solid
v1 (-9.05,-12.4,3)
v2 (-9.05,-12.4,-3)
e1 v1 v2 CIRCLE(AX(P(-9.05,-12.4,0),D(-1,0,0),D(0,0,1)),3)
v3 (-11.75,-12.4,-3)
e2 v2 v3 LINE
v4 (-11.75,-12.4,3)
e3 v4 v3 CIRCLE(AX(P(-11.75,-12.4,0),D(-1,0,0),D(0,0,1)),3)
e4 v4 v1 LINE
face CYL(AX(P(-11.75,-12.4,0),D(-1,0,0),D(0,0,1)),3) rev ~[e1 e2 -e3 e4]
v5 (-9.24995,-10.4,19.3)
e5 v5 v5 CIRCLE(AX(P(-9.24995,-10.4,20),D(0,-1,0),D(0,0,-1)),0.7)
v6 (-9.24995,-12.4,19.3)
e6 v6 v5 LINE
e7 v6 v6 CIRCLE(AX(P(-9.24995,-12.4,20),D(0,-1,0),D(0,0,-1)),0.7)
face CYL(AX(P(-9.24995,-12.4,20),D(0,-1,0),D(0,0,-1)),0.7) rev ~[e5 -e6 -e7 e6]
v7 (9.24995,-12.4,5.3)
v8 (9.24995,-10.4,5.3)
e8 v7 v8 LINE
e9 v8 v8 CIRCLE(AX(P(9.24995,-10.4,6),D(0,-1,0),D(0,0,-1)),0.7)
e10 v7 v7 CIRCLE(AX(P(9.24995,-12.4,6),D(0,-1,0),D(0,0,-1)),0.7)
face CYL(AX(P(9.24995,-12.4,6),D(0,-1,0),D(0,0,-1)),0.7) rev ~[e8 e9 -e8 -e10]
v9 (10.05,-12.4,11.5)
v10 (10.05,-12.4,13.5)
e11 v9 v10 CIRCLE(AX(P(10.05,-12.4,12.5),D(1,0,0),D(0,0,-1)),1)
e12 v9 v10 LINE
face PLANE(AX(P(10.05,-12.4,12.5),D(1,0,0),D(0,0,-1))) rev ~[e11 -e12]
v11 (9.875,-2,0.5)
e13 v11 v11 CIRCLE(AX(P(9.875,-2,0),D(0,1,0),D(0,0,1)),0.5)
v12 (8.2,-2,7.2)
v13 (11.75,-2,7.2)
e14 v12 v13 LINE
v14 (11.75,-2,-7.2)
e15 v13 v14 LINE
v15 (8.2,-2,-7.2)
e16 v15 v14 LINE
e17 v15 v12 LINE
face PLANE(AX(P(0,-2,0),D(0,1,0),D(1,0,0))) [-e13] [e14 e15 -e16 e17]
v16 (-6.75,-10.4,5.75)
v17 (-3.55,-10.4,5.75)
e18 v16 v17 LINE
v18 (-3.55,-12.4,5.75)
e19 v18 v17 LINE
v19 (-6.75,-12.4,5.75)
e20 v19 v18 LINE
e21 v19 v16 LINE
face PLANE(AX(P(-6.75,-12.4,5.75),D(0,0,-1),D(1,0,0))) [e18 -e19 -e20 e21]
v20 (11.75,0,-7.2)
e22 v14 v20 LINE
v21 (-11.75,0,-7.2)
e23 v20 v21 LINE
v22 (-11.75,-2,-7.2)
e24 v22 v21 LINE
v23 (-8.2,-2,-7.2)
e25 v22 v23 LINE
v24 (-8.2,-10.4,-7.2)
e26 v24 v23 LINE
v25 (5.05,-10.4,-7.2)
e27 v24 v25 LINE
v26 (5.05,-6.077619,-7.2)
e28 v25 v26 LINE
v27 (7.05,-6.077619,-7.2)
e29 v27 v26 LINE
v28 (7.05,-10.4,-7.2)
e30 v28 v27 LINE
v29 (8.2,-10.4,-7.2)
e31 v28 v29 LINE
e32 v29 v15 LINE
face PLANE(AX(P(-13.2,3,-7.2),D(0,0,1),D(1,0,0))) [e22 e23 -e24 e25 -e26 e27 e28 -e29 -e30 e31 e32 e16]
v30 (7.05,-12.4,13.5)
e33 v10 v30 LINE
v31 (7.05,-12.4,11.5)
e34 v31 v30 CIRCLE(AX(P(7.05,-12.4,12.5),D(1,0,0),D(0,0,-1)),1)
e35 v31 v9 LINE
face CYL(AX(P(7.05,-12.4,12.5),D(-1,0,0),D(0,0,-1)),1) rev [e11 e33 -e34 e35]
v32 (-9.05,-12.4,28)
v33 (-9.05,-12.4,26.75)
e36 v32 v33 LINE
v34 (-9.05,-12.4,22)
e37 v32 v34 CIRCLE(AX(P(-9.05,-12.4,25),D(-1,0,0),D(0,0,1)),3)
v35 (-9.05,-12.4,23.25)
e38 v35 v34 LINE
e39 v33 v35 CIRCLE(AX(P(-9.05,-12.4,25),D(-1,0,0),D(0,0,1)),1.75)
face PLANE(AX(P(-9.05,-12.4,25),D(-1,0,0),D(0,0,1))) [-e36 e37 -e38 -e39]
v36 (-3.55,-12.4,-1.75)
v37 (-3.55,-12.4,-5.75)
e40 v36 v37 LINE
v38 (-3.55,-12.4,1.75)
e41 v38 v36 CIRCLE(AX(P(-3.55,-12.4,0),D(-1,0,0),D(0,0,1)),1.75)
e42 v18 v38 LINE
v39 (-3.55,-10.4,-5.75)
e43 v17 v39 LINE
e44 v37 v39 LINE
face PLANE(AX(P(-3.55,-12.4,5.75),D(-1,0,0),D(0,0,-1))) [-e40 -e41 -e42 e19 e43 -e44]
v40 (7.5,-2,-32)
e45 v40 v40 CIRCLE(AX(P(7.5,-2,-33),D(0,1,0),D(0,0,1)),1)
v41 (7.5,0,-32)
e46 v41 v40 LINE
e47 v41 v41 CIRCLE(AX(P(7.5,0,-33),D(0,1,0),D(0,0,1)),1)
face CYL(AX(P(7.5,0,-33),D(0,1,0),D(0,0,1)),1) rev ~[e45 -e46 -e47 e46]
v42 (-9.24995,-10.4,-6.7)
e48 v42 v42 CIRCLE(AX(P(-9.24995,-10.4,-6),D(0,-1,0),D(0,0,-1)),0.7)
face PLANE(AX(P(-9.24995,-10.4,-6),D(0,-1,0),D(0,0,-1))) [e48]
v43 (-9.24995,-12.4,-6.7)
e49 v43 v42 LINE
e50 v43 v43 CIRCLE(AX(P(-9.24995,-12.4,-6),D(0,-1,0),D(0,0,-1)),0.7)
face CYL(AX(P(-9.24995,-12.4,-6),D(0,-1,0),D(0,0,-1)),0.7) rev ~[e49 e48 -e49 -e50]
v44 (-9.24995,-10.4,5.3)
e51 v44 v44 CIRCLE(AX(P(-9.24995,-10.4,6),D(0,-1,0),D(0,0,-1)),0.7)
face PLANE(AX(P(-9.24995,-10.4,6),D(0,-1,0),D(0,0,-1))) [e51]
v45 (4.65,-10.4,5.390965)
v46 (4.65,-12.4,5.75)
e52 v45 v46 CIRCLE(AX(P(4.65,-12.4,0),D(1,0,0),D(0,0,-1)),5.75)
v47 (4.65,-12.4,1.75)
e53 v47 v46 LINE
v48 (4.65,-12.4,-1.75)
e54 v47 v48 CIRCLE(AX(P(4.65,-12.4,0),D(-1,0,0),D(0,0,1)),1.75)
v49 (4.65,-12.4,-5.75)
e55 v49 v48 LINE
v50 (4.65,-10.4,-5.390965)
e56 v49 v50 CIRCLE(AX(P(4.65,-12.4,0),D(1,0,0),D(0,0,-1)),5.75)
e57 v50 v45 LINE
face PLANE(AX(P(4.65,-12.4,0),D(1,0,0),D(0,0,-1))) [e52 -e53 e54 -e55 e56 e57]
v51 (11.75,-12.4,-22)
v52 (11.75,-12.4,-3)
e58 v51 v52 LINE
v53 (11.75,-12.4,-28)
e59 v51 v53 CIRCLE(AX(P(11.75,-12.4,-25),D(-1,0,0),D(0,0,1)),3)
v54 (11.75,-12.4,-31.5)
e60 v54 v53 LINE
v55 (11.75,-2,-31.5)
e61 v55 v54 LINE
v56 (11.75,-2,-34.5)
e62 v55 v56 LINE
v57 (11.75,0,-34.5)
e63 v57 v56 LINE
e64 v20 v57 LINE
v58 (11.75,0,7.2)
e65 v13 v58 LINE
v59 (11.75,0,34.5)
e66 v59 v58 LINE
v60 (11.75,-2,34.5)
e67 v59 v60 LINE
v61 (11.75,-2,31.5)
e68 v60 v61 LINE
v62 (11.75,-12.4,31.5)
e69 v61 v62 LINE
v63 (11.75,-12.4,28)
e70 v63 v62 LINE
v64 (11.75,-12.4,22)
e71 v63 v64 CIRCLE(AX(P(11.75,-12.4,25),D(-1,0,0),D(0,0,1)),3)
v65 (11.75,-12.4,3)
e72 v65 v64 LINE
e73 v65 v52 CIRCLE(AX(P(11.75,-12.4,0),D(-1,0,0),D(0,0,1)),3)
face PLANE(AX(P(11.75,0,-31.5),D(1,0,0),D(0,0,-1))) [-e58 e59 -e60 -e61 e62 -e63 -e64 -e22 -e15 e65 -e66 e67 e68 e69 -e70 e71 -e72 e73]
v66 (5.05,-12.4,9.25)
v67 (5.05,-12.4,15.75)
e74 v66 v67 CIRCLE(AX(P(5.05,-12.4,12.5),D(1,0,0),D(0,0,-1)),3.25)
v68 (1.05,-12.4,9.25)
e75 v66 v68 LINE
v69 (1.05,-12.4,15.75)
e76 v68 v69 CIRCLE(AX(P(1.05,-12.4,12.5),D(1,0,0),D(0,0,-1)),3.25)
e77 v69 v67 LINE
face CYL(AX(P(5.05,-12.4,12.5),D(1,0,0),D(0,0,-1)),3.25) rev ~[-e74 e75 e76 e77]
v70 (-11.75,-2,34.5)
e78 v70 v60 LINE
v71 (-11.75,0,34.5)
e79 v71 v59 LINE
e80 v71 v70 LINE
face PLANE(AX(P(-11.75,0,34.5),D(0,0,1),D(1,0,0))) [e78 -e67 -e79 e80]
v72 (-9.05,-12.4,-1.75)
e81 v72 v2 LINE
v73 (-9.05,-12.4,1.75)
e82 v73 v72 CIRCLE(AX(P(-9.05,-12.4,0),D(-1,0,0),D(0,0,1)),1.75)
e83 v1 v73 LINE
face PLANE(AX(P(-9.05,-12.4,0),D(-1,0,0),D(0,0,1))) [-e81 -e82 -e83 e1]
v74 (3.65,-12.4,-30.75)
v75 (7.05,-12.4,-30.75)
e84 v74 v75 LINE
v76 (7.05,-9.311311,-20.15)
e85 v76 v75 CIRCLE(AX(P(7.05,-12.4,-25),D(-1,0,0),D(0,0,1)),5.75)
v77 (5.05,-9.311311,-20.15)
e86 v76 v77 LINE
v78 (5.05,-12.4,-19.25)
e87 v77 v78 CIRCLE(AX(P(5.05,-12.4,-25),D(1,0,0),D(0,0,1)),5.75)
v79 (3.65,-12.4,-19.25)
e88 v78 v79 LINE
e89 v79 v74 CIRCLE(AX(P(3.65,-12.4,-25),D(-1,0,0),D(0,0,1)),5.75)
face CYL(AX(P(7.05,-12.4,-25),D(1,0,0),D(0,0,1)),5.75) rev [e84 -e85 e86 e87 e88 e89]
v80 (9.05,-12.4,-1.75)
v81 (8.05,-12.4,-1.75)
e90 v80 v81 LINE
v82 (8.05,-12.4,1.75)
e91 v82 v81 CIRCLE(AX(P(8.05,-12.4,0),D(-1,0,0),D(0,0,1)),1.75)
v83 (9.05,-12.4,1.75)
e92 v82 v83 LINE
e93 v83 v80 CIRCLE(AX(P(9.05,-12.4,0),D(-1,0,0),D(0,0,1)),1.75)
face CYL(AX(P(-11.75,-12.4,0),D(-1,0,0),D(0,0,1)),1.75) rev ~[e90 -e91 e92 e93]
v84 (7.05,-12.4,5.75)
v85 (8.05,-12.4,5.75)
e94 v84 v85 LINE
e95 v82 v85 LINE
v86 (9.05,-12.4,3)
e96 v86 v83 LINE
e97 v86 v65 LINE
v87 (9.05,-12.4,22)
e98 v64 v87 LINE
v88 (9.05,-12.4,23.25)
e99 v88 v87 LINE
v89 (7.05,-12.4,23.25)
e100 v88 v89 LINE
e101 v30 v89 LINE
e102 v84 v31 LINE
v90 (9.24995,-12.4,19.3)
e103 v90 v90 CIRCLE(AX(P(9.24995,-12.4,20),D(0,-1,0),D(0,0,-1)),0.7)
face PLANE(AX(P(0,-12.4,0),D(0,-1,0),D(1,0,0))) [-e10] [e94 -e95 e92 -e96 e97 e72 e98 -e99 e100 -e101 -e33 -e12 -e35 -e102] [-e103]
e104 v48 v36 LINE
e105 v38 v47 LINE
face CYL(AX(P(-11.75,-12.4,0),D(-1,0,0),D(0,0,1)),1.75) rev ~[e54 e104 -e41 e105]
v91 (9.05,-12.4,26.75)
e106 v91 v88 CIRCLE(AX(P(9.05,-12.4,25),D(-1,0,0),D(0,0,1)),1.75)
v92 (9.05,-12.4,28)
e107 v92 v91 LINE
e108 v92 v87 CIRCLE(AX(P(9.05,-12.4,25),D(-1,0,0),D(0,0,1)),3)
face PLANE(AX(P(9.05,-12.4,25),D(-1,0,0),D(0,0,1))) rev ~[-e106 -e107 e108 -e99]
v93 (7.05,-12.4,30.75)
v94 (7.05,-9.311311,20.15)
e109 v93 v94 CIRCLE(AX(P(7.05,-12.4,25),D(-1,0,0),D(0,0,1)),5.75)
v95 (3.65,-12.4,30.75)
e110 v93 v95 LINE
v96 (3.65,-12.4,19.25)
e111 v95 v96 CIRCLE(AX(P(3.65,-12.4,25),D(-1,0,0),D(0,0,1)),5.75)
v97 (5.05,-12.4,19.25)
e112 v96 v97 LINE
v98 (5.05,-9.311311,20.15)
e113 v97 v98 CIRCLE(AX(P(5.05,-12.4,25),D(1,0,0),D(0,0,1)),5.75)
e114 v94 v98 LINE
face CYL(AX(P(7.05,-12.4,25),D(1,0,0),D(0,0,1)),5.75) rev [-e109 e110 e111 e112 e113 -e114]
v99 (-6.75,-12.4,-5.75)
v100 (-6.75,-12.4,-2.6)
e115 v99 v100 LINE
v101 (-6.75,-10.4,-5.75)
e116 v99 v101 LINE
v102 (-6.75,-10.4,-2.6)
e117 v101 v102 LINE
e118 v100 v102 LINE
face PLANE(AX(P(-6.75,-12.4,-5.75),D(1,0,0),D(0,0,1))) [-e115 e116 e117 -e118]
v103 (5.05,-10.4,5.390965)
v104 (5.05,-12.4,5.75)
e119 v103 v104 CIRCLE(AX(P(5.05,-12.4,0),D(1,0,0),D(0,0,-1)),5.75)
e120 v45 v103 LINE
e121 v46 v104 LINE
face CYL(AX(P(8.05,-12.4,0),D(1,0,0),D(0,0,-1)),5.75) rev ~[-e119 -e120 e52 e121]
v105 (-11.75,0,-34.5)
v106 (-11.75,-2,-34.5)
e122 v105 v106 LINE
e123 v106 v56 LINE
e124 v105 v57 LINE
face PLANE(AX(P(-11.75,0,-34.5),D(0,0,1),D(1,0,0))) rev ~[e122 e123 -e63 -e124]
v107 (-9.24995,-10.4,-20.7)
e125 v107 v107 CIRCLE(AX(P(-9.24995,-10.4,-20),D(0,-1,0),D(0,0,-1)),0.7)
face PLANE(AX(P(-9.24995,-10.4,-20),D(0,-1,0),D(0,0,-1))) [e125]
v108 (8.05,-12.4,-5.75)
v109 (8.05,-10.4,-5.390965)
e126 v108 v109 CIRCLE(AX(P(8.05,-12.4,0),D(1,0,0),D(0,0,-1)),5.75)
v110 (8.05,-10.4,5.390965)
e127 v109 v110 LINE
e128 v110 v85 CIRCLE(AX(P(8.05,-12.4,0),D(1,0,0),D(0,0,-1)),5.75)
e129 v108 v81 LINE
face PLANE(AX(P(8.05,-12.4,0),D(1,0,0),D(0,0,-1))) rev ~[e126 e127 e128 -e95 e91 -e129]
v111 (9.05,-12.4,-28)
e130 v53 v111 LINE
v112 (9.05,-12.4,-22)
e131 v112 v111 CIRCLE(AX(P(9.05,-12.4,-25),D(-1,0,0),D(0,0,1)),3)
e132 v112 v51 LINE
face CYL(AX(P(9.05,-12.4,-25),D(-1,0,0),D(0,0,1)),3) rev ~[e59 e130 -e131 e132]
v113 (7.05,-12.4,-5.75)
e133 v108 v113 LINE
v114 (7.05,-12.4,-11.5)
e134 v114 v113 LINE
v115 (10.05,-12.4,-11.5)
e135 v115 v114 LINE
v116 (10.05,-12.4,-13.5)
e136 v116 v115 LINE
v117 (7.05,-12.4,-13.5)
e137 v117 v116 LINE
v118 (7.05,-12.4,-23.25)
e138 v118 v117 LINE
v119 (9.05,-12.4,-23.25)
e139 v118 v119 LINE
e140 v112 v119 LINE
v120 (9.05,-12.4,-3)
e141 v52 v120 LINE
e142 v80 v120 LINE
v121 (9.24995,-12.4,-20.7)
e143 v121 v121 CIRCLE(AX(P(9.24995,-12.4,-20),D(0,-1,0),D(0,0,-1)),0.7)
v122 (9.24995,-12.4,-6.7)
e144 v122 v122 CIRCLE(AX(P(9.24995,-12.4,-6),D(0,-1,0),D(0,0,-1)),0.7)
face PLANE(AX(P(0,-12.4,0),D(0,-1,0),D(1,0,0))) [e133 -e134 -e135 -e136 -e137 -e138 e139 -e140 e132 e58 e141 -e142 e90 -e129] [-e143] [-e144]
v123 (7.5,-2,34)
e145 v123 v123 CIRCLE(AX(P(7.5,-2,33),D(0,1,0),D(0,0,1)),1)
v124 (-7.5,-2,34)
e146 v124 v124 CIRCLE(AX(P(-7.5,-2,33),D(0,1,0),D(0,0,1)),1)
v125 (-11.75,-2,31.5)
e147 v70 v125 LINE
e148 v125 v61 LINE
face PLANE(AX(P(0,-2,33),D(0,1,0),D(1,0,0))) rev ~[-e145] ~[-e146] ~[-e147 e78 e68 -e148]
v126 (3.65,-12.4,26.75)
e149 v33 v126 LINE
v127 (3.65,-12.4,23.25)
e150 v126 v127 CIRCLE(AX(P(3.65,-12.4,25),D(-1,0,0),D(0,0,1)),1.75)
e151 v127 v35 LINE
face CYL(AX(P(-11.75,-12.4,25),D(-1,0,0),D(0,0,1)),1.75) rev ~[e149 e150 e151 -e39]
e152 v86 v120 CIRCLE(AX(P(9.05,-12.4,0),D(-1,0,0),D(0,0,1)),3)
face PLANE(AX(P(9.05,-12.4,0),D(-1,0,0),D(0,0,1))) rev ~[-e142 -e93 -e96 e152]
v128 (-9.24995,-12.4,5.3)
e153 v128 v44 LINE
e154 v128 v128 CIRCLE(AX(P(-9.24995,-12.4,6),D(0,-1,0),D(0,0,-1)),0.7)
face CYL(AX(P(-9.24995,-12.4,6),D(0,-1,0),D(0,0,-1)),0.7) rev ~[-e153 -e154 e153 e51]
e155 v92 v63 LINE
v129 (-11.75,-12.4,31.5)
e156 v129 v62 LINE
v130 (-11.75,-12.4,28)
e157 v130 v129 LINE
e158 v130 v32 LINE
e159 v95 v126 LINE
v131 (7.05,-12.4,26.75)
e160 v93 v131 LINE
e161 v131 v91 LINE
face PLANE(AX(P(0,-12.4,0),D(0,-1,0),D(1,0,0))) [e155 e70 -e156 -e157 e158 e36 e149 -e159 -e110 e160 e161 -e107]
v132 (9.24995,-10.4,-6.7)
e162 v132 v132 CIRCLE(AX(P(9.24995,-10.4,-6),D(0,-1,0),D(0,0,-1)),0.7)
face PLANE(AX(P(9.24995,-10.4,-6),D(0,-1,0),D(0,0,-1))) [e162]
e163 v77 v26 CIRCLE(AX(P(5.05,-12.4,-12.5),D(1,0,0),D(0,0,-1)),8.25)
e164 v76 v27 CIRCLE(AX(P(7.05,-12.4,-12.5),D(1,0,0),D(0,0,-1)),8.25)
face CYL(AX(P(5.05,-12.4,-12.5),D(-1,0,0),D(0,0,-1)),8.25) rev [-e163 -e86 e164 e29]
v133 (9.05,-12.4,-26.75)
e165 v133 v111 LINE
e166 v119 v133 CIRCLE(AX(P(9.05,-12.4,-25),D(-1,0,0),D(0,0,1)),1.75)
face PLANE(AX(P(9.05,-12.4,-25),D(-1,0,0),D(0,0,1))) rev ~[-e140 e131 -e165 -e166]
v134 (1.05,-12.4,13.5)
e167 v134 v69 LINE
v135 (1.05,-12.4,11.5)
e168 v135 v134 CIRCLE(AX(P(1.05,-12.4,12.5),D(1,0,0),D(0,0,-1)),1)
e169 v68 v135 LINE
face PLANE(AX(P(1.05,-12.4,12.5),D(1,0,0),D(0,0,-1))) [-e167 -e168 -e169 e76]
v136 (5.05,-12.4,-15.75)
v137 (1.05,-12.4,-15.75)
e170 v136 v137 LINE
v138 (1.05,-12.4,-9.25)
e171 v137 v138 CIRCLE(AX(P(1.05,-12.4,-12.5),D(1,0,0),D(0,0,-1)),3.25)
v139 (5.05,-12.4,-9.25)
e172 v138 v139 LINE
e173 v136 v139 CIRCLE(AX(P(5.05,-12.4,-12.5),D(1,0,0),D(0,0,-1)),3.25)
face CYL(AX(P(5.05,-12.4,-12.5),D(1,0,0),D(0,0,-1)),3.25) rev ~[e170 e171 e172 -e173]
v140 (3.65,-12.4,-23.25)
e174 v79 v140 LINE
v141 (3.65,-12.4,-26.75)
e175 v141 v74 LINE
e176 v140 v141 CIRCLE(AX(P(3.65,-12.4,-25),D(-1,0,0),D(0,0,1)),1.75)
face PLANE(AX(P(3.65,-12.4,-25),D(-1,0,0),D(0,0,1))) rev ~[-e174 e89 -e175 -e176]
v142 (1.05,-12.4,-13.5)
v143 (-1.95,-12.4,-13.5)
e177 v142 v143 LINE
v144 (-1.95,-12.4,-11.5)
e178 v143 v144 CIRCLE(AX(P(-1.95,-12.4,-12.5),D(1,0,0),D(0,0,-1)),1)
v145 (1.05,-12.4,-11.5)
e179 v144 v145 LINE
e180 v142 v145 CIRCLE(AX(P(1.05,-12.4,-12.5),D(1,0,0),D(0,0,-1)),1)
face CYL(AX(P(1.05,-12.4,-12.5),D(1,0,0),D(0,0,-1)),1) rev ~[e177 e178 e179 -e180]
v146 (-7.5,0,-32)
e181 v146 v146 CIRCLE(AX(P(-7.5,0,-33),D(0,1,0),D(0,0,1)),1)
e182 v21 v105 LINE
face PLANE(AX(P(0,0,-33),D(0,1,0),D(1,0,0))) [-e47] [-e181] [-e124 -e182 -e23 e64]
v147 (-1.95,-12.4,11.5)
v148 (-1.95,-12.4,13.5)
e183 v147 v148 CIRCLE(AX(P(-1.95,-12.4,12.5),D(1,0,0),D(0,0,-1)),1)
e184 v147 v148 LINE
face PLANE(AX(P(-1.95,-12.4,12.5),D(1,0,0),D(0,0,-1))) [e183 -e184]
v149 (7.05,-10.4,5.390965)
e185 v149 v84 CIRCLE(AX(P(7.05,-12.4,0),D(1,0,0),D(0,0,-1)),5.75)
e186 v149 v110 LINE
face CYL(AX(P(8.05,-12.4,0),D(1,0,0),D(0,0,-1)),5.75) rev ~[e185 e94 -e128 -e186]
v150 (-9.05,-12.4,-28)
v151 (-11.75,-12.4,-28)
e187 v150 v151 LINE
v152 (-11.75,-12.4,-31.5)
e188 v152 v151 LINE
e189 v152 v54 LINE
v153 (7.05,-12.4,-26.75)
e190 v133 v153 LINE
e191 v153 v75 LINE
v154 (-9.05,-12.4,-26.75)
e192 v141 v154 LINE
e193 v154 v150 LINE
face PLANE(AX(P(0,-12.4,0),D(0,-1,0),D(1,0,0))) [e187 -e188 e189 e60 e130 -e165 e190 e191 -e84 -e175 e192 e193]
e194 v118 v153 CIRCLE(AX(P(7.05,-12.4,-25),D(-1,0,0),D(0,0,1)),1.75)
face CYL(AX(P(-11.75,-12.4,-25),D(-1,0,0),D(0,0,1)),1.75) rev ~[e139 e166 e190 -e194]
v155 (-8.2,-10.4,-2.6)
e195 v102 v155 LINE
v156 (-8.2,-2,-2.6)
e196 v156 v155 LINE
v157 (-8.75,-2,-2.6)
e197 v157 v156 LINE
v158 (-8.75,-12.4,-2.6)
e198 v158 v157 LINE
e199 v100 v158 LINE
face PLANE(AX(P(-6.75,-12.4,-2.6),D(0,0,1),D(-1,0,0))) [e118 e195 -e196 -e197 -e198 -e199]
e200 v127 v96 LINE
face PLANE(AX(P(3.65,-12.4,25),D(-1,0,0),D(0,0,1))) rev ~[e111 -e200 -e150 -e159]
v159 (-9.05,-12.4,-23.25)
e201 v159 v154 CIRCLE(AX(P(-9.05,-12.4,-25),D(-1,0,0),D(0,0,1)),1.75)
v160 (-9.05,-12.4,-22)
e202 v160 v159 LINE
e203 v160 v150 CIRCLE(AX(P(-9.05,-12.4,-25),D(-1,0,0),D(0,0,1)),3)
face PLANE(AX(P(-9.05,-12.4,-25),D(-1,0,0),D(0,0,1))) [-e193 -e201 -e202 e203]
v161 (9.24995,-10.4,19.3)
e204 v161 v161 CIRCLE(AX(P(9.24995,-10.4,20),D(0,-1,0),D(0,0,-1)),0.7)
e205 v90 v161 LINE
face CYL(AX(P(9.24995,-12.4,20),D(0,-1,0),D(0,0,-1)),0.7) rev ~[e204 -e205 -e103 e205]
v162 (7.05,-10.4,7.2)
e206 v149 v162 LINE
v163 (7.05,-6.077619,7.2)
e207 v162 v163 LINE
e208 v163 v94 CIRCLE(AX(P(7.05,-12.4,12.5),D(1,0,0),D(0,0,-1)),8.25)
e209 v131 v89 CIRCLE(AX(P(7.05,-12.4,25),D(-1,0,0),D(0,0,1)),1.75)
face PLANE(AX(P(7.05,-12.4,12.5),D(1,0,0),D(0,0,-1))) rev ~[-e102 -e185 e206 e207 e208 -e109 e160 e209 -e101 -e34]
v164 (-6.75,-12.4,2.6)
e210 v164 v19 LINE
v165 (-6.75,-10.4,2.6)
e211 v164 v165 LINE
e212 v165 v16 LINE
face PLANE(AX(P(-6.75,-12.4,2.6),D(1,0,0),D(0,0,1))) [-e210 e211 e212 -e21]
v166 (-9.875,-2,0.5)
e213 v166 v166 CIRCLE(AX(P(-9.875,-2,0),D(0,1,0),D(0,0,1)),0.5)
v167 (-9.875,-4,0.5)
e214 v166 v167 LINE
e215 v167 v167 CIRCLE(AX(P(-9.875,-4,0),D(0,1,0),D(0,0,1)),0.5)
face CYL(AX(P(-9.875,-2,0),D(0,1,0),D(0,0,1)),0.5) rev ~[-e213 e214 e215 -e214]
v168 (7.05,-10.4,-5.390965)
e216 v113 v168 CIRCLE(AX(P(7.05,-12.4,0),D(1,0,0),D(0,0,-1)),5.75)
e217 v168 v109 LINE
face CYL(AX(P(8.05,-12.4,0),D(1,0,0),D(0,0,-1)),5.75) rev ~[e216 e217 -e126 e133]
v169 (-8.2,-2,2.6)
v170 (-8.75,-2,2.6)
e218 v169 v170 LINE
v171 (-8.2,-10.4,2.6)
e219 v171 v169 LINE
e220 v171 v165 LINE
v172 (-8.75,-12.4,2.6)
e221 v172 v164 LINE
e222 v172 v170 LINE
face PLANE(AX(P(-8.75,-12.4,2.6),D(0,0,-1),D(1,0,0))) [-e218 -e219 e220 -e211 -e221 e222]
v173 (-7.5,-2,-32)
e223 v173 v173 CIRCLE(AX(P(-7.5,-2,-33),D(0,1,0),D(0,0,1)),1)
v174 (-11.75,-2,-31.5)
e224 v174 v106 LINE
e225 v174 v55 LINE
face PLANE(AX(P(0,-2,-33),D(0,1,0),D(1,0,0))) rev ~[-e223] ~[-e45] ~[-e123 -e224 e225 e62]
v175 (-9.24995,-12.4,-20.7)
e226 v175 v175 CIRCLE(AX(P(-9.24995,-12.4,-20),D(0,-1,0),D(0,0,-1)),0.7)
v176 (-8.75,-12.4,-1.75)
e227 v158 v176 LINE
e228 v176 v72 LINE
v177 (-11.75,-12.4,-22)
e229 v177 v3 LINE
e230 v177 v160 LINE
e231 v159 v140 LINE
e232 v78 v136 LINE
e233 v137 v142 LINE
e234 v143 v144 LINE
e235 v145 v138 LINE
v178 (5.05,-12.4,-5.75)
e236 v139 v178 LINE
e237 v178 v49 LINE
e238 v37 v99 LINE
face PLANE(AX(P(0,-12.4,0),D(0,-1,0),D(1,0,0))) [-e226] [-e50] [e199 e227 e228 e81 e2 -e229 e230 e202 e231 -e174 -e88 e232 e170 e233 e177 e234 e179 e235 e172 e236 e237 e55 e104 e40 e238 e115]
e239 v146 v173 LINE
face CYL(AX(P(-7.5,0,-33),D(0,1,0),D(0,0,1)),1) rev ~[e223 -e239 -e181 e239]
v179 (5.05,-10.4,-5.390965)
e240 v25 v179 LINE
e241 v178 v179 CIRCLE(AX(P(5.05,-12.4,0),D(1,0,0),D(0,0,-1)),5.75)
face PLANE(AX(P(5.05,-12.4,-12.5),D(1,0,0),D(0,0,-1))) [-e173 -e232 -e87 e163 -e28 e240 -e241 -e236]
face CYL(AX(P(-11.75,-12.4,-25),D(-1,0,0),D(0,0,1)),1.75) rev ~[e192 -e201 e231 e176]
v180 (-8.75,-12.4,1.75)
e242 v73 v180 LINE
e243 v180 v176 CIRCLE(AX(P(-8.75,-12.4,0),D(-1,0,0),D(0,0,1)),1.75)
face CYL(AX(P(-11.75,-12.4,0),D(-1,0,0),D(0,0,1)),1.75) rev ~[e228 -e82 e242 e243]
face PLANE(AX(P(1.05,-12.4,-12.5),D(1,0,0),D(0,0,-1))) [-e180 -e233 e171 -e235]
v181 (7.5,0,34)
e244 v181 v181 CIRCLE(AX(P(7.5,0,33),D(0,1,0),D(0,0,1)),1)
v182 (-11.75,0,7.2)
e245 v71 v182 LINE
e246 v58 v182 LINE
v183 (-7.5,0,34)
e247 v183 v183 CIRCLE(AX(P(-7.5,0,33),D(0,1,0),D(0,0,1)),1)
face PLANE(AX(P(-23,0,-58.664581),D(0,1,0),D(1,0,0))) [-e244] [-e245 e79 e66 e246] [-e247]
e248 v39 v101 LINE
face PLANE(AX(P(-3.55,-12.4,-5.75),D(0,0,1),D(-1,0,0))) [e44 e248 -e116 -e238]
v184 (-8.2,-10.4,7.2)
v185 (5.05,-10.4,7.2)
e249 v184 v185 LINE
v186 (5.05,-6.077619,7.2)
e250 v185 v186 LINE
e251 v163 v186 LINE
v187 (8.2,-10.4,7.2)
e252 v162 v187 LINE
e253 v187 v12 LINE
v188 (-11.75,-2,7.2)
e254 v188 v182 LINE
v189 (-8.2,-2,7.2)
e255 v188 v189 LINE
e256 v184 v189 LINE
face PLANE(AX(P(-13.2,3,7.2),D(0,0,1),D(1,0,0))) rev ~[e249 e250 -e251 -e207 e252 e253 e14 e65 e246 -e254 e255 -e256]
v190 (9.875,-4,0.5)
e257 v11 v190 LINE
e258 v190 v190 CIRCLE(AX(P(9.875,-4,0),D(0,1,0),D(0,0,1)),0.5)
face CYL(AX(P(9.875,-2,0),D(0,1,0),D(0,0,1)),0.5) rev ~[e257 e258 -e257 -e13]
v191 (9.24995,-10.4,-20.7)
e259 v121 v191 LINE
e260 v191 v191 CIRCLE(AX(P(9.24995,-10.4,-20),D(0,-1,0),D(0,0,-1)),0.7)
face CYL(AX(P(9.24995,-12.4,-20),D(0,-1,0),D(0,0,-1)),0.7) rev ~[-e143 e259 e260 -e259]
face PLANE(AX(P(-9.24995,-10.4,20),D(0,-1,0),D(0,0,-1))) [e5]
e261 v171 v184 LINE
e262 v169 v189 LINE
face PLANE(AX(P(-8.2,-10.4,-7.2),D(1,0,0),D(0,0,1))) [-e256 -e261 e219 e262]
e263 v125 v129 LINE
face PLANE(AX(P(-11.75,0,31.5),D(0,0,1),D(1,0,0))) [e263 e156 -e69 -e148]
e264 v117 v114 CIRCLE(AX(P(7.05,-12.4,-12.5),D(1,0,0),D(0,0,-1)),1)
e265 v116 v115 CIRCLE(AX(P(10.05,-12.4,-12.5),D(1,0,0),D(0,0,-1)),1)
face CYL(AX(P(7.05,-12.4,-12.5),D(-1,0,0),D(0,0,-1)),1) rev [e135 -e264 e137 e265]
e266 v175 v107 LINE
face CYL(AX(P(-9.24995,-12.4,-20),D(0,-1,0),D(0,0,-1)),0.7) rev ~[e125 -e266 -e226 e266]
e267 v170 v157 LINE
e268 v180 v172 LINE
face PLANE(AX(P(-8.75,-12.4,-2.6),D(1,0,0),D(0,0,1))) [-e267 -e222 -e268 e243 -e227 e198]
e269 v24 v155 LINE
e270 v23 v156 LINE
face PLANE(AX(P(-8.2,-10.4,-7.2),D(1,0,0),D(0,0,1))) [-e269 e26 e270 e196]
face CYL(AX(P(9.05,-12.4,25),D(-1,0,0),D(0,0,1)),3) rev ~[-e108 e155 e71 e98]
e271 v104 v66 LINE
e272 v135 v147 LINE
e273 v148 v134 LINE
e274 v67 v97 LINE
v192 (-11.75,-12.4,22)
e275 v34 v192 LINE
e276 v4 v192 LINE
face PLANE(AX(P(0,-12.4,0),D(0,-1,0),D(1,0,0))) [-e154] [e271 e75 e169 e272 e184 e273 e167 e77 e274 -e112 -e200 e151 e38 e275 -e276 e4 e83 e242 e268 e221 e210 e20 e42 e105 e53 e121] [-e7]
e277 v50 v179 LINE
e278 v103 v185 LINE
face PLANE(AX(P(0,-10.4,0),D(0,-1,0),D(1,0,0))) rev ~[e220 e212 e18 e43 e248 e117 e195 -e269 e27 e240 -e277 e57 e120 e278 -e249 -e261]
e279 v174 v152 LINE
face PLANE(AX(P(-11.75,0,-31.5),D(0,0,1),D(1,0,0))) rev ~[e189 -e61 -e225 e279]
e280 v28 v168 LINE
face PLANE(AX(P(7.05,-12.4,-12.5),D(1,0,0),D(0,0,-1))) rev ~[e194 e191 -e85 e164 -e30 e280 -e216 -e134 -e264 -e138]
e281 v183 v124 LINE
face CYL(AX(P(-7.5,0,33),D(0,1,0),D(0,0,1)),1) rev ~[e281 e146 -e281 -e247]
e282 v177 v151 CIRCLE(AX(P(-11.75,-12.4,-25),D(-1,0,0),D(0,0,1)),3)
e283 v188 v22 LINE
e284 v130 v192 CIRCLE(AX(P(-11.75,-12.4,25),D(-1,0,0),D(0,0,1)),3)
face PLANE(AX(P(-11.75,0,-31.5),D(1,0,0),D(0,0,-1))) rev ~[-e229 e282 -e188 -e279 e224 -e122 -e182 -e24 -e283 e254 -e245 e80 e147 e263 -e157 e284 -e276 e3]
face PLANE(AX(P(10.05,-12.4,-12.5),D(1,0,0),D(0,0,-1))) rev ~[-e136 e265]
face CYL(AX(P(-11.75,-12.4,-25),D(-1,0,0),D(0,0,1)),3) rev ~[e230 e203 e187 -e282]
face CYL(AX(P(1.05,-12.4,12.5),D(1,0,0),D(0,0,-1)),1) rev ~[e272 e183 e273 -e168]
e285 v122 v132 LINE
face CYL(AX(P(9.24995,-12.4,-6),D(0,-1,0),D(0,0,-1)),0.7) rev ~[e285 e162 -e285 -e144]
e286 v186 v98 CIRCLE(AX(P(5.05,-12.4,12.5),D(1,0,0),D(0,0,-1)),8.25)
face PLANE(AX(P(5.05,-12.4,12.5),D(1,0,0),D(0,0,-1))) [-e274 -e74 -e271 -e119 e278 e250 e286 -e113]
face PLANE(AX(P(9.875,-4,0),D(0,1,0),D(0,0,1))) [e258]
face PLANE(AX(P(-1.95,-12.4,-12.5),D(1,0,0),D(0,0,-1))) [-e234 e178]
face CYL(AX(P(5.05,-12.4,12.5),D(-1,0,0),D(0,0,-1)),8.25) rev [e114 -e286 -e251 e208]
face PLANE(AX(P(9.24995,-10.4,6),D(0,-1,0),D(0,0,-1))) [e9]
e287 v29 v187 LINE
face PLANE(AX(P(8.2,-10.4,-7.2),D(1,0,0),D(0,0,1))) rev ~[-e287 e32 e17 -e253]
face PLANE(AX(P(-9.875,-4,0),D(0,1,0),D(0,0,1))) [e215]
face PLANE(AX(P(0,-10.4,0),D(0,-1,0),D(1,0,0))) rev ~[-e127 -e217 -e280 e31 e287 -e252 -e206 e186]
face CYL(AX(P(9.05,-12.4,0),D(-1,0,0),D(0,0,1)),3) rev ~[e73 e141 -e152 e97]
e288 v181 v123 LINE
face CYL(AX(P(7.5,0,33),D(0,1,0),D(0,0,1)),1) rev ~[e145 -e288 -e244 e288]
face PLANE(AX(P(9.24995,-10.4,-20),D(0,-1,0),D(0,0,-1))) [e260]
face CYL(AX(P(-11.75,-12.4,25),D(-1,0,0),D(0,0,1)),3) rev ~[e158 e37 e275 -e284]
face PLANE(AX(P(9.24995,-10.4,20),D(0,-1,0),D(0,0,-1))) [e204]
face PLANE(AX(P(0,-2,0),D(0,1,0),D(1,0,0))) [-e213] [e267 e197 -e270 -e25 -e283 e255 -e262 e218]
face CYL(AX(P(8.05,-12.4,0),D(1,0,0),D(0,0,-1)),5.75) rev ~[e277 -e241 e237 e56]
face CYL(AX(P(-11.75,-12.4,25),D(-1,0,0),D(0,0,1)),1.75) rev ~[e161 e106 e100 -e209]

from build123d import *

# Parameters (mm, degrees)
SKETCH_4_W                = 46
SKETCH_4_H                = 107.5
EXTRUDE_1_DEPTH           = 3
SKETCH_5_W                = 23.5
SKETCH_5_H                = 63
EXTRUDE_2_DEPTH           = 12.4
SKETCH_6_R                = 1.75
CUT_EXTRUDE_1_DEPTH       = 66.1949768
SKETCH_6_3_R              = 3
CUT_EXTRUDE_2_DEPTH       = 2.7
CUT_EXTRUDE_START         = -20.8
SKETCH_6_4_R              = 3
CUT_EXTRUDE_3_DEPTH       = 2.7
SKETCH_6_5_R              = 3
CUT_EXTRUDE_4_DEPTH       = 2.7
SKETCH_6_6_R              = 3
CUT_EXTRUDE_5_DEPTH       = 2.7
SKETCH_7_R                = 0.7
CUT_EXTRUDE_6_DEPTH       = 2
CUT_EXTRUDE_START_2       = -2
SKETCH_8_W                = 16.4
SKETCH_8_H                = 14.4
CUT_EXTRUDE_7_DEPTH       = 59.458436136
SKETCH_9_W                = 46
SKETCH_9_H                = 8
EXTRUDE_3_DEPTH           = 10
SKETCH_9_3_W              = 3
SKETCH_9_3_H              = 91.5
EXTRUDE_4_DEPTH           = 3
SKETCH_10_R               = 0.6
CUT_EXTRUDE_8_DEPTH       = 2
SKETCH_11_W               = 26.4
SKETCH_11_H               = 14.4
CUT_EXTRUDE_9_DEPTH       = 5
SKETCH_12_R               = 0.5
CUT_EXTRUDE_10_DEPTH      = 2
CUT_EXTRUDE_11_DEPTH      = 61.458436136
CUT_EXTRUDE_12_DEPTH      = 90.164580972
CUT_EXTRUDE_12_DEPTH_BACK = 90.164580972
SKETCH_14_W               = 46
SKETCH_14_H               = 3
SKETCH_15_OUTSIDE_W       = 71.516
SKETCH_15_OUTSIDE_H       = 133.016
SKETCH_15_OUTSIDE_W_2     = 23.5
SKETCH_15_OUTSIDE_H_2     = 63
CUT_EXTRUDE_15_DEPTH      = 60.764726219
SKETCH_16_W               = 23.5
SKETCH_16_H               = 3
SKETCH_16_R               = 1
EXTRUDE_5_DEPTH           = 2
CUT_EXTRUDE_START_3       = -1
SKETCH_17_R               = 5.75
CUT_EXTRUDE_16_DEPTH      = 3.4
CUT_EXTRUDE_START_4       = 0.4
SKETCH_18_R               = 8.25
CUT_EXTRUDE_17_DEPTH      = 2
SKETCH_19_R               = 3.25
CUT_EXTRUDE_18_DEPTH      = 4
SKETCH_20_R               = 5.75
CUT_EXTRUDE_19_DEPTH      = 3.4
CUT_EXTRUDE_START_5       = -4.7
SKETCH_21_R               = 1
CUT_EXTRUDE_20_DEPTH      = 3
CUT_EXTRUDE_START_6       = -10.7
SKETCH_21_2_R             = 1
CUT_EXTRUDE_21_DEPTH      = 3


with BuildPart() as part:
    # 草图4 → 凸台-拉伸1 (new body)
    with BuildSketch(Plane(origin=(0, 0, 0), x_dir=(1, 0, 0), z_dir=(0, 1, 0))):
        Rectangle(SKETCH_4_W, SKETCH_4_H)
    extrude(amount=EXTRUDE_1_DEPTH)

    # 草图5 → 凸台-拉伸2 (add)
    with BuildSketch(Plane.XZ):
        Rectangle(SKETCH_5_W, SKETCH_5_H)
    extrude(amount=EXTRUDE_2_DEPTH)

    # 草图6 → 切除-拉伸1 (cut, through all)
    with BuildSketch(Plane.ZY.offset(11.75)):
        with Locations((0, -12.4)):
            Circle(SKETCH_6_R)
        with Locations((25, -12.4)):
            Circle(SKETCH_6_R)
        with Locations((-25, -12.4)):
            Circle(SKETCH_6_R)
    extrude(amount=-CUT_EXTRUDE_1_DEPTH, mode=Mode.SUBTRACT)

    # 草图6<3> → 切除-拉伸2 (cut)
    with BuildSketch(Plane.ZY.offset(11.75)):
        with Locations((0, -12.4)):
            Circle(SKETCH_6_3_R)
    extrude(amount=-CUT_EXTRUDE_2_DEPTH, mode=Mode.SUBTRACT)

    # 草图6<4> → 切除-拉伸3 (cut)
    with BuildSketch(Plane.ZY.offset(11.75).offset(CUT_EXTRUDE_START)):
        with Locations((0, -12.4)):
            Circle(SKETCH_6_4_R)
    extrude(amount=-CUT_EXTRUDE_3_DEPTH, mode=Mode.SUBTRACT)

    # 草图6<5> → 切除-拉伸4 (cut)
    with BuildSketch(Plane.ZY.offset(11.75)):
        with Locations((25, -12.4)):
            Circle(SKETCH_6_5_R)
        with Locations((-25, -12.4)):
            Circle(SKETCH_6_5_R)
    extrude(amount=-CUT_EXTRUDE_4_DEPTH, mode=Mode.SUBTRACT)

    # 草图6<6> → 切除-拉伸5 (cut)
    with BuildSketch(Plane.ZY.offset(11.75).offset(CUT_EXTRUDE_START)):
        with Locations((25, -12.4)):
            Circle(SKETCH_6_6_R)
        with Locations((-25, -12.4)):
            Circle(SKETCH_6_6_R)
    extrude(amount=-CUT_EXTRUDE_5_DEPTH, mode=Mode.SUBTRACT)

    # 草图7 → 切除-拉伸6 (cut)
    with BuildSketch(Plane(origin=(0, -12.4, 0), x_dir=(-1, 0, 0), z_dir=(0, -1, 0))):
        with Locations(Location((9.249949764, -20, 0), (0, 0, 90))):
            Circle(SKETCH_7_R)
        with Locations(Location((-9.249949764, -20, 0), (0, 0, 90))):
            Circle(SKETCH_7_R)
        with Locations(Location((-9.249949764, -6, 0), (0, 0, 90))):
            Circle(SKETCH_7_R)
        with Locations(Location((9.249949764, -6, 0), (0, 0, 90))):
            Circle(SKETCH_7_R)
        with Locations(Location((9.249949764, 6, 0), (0, 0, 90))):
            Circle(SKETCH_7_R)
        with Locations(Location((-9.249949764, 6, 0), (0, 0, 90))):
            Circle(SKETCH_7_R)
        with Locations(Location((-9.249949764, 20, 0), (0, 0, 90))):
            Circle(SKETCH_7_R)
        with Locations(Location((9.249949764, 20, 0), (0, 0, 90))):
            Circle(SKETCH_7_R)
    extrude(amount=-CUT_EXTRUDE_6_DEPTH, mode=Mode.SUBTRACT)

    # 草图8 → 切除-拉伸7 (cut, through all)
    with BuildSketch(Plane.XZ.offset(12.4).offset(CUT_EXTRUDE_START_2)):
        Rectangle(SKETCH_8_W, SKETCH_8_H)
    extrude(amount=-CUT_EXTRUDE_7_DEPTH, mode=Mode.SUBTRACT)

    # 草图9 → 凸台-拉伸3 (add)
    with BuildSketch(Plane.XZ):
        with Locations((0, 49.75)):
            Rectangle(SKETCH_9_W, SKETCH_9_H)
        with Locations((0, -49.75)):
            Rectangle(SKETCH_9_W, SKETCH_9_H)
    extrude(amount=EXTRUDE_3_DEPTH)

    # 草图9<3> → 凸台-拉伸4 (add)
    with BuildSketch(Plane.XZ):
        with Locations((-21.5, 0)):
            Rectangle(SKETCH_9_3_W, SKETCH_9_3_H)
        with Locations((21.5, 0)):
            Rectangle(SKETCH_9_3_W, SKETCH_9_3_H)
    extrude(amount=EXTRUDE_4_DEPTH)

    # 草图10 → 切除-拉伸8 (cut)
    with BuildSketch(Plane.XY.offset(53.75)):
        with Locations((-7.5, 0)):
            Circle(SKETCH_10_R)
        with Locations((7.5, 0)):
            Circle(SKETCH_10_R)
    extrude(amount=-CUT_EXTRUDE_8_DEPTH, mode=Mode.SUBTRACT)

    # 草图11 → 切除-拉伸9 (cut)
    with BuildSketch(Plane(origin=(0, 3, 0), x_dir=(1, 0, 0), z_dir=(0, 1, 0))):
        Rectangle(SKETCH_11_W, SKETCH_11_H)
    extrude(amount=-CUT_EXTRUDE_9_DEPTH, mode=Mode.SUBTRACT)

    # 草图12 → 切除-拉伸10 (cut)
    with BuildSketch(Plane(origin=(0, -2, 0), x_dir=(1, 0, 0), z_dir=(0, 1, 0))):
        with Locations(Location((-9.875, 0, 0), (0, 0, 270))):
            Circle(SKETCH_12_R)
        with Locations(Location((9.875, 0, 0), (0, 0, 270))):
            Circle(SKETCH_12_R)
    extrude(amount=-CUT_EXTRUDE_10_DEPTH, mode=Mode.SUBTRACT)

    # 草图13 → 切除-拉伸11 (cut, through all)
    with BuildSketch(Plane.XZ.offset(12.4)):
        Polygon((-8.75, 2.6), (-6.75, 2.6), (-6.75, 5.75), (-3.55, 5.75), (-3.55, -5.75), (-6.75, -5.75), (-6.75, -2.6), (-8.75, -2.6), align=None)
    extrude(amount=-CUT_EXTRUDE_11_DEPTH, mode=Mode.SUBTRACT)

    # 草图14 → 切除-拉伸12 (cut, two sides: drawn at the far end of the back side and taken through both)
    with BuildSketch(Plane.XY.offset(31.5).offset(-CUT_EXTRUDE_12_DEPTH_BACK)):
        with Locations((0, 1.5)):
            Rectangle(SKETCH_14_W, SKETCH_14_H)
    extrude(amount=CUT_EXTRUDE_12_DEPTH + CUT_EXTRUDE_12_DEPTH_BACK, mode=Mode.SUBTRACT)


with BuildPart() as cut_extrude_12_piece_1:
    # of the separate pieces the step leaves, piece 1, a body of its own (cut_extrude_12_pieces)
    add(part.part.solids().sort_by_distance((-11.75, 0, 31.5))[0])

    # 草图16 → 凸台-拉伸5 (add)
    # profile 1 of 2: a face of its own
    with BuildSketch(Plane(origin=(0, 0, 0), x_dir=(1, 0, 0), z_dir=(0, 1, 0))):
        with Locations((0, 33)):
            Rectangle(SKETCH_16_W, SKETCH_16_H)
        with Locations(Location((-7.5, 33, 0), (0, 0, 270))):
            Circle(SKETCH_16_R, mode=Mode.SUBTRACT)
        with Locations(Location((7.5, 33, 0), (0, 0, 270))):
            Circle(SKETCH_16_R, mode=Mode.SUBTRACT)
    # profile 2 of 2: a face of its own
    with BuildSketch(Plane(origin=(0, 0, 0), x_dir=(1, 0, 0), z_dir=(0, 1, 0))):
        with Locations((0, -33)):
            Rectangle(SKETCH_16_W, SKETCH_16_H)
        with Locations(Location((-7.5, -33, 0), (0, 0, 270))):
            Circle(SKETCH_16_R, mode=Mode.SUBTRACT)
        with Locations(Location((7.5, -33, 0), (0, 0, 270))):
            Circle(SKETCH_16_R, mode=Mode.SUBTRACT)
    extrude(amount=-EXTRUDE_5_DEPTH)

    # 草图17 → 切除-拉伸16 (cut)
    with BuildSketch(Plane(origin=(9.05, 0, 0), x_dir=(0, 0, -1), z_dir=(1, 0, 0)).offset(CUT_EXTRUDE_START_3)):
        with Locations((0, -12.4)):
            Circle(SKETCH_17_R)
    extrude(amount=-CUT_EXTRUDE_16_DEPTH, mode=Mode.SUBTRACT)

    # 草图18 → 切除-拉伸17 (cut)
    with BuildSketch(Plane(origin=(4.65, 0, 0), x_dir=(0, 0, -1), z_dir=(1, 0, 0)).offset(CUT_EXTRUDE_START_4)):
        with Locations((-12.5, -12.4)):
            Circle(SKETCH_18_R)
        with Locations((12.5, -12.4)):
            Circle(SKETCH_18_R)
    extrude(amount=CUT_EXTRUDE_17_DEPTH, mode=Mode.SUBTRACT)

    # 草图19 → 切除-拉伸18 (cut)
    with BuildSketch(Plane(origin=(5.05, 0, 0), x_dir=(0, 0, -1), z_dir=(1, 0, 0))):
        with Locations((-12.5, -12.4)):
            Circle(SKETCH_19_R)
        with Locations((12.5, -12.4)):
            Circle(SKETCH_19_R)
    extrude(amount=-CUT_EXTRUDE_18_DEPTH, mode=Mode.SUBTRACT)

    # 草图20 → 切除-拉伸19 (cut)
    with BuildSketch(Plane.ZY.offset(-7.05)):
        with Locations((-25, -12.4)):
            Circle(SKETCH_20_R)
        with Locations((25, -12.4)):
            Circle(SKETCH_20_R)
    extrude(amount=CUT_EXTRUDE_19_DEPTH, mode=Mode.SUBTRACT)

    # 草图21 → 切除-拉伸20 (cut)
    with BuildSketch(Plane(origin=(11.75, 0, 0), x_dir=(0, 0, -1), z_dir=(1, 0, 0)).offset(CUT_EXTRUDE_START_5)):
        with Locations((-12.5, -12.4)):
            Circle(SKETCH_21_R)
        with Locations((12.5, -12.4)):
            Circle(SKETCH_21_R)
    extrude(amount=CUT_EXTRUDE_20_DEPTH, mode=Mode.SUBTRACT)

    # 草图21<2> → 切除-拉伸21 (cut)
    with BuildSketch(Plane(origin=(11.75, 0, 0), x_dir=(0, 0, -1), z_dir=(1, 0, 0)).offset(CUT_EXTRUDE_START_6)):
        with Locations((-12.5, -12.4)):
            Circle(SKETCH_21_2_R)
        with Locations((12.5, -12.4)):
            Circle(SKETCH_21_2_R)
    extrude(amount=-CUT_EXTRUDE_21_DEPTH, mode=Mode.SUBTRACT)


with BuildPart() as cut_extrude_12_piece_2:
    # of the separate pieces the step leaves, piece 2, a body of its own (cut_extrude_12_pieces)
    add(part.part.solids().sort_by_distance((-23, 0, 53.75))[0])

    # 草图15 outside → 切除-拉伸15 (cut, through all)
    with BuildSketch(Plane.XZ.offset(12.4)):
        Rectangle(SKETCH_15_OUTSIDE_W, SKETCH_15_OUTSIDE_H)
        Rectangle(SKETCH_15_OUTSIDE_W_2, SKETCH_15_OUTSIDE_H_2, mode=Mode.SUBTRACT)
    extrude(amount=-CUT_EXTRUDE_15_DEPTH, mode=Mode.SUBTRACT)


solid = cut_extrude_12_piece_1.part
